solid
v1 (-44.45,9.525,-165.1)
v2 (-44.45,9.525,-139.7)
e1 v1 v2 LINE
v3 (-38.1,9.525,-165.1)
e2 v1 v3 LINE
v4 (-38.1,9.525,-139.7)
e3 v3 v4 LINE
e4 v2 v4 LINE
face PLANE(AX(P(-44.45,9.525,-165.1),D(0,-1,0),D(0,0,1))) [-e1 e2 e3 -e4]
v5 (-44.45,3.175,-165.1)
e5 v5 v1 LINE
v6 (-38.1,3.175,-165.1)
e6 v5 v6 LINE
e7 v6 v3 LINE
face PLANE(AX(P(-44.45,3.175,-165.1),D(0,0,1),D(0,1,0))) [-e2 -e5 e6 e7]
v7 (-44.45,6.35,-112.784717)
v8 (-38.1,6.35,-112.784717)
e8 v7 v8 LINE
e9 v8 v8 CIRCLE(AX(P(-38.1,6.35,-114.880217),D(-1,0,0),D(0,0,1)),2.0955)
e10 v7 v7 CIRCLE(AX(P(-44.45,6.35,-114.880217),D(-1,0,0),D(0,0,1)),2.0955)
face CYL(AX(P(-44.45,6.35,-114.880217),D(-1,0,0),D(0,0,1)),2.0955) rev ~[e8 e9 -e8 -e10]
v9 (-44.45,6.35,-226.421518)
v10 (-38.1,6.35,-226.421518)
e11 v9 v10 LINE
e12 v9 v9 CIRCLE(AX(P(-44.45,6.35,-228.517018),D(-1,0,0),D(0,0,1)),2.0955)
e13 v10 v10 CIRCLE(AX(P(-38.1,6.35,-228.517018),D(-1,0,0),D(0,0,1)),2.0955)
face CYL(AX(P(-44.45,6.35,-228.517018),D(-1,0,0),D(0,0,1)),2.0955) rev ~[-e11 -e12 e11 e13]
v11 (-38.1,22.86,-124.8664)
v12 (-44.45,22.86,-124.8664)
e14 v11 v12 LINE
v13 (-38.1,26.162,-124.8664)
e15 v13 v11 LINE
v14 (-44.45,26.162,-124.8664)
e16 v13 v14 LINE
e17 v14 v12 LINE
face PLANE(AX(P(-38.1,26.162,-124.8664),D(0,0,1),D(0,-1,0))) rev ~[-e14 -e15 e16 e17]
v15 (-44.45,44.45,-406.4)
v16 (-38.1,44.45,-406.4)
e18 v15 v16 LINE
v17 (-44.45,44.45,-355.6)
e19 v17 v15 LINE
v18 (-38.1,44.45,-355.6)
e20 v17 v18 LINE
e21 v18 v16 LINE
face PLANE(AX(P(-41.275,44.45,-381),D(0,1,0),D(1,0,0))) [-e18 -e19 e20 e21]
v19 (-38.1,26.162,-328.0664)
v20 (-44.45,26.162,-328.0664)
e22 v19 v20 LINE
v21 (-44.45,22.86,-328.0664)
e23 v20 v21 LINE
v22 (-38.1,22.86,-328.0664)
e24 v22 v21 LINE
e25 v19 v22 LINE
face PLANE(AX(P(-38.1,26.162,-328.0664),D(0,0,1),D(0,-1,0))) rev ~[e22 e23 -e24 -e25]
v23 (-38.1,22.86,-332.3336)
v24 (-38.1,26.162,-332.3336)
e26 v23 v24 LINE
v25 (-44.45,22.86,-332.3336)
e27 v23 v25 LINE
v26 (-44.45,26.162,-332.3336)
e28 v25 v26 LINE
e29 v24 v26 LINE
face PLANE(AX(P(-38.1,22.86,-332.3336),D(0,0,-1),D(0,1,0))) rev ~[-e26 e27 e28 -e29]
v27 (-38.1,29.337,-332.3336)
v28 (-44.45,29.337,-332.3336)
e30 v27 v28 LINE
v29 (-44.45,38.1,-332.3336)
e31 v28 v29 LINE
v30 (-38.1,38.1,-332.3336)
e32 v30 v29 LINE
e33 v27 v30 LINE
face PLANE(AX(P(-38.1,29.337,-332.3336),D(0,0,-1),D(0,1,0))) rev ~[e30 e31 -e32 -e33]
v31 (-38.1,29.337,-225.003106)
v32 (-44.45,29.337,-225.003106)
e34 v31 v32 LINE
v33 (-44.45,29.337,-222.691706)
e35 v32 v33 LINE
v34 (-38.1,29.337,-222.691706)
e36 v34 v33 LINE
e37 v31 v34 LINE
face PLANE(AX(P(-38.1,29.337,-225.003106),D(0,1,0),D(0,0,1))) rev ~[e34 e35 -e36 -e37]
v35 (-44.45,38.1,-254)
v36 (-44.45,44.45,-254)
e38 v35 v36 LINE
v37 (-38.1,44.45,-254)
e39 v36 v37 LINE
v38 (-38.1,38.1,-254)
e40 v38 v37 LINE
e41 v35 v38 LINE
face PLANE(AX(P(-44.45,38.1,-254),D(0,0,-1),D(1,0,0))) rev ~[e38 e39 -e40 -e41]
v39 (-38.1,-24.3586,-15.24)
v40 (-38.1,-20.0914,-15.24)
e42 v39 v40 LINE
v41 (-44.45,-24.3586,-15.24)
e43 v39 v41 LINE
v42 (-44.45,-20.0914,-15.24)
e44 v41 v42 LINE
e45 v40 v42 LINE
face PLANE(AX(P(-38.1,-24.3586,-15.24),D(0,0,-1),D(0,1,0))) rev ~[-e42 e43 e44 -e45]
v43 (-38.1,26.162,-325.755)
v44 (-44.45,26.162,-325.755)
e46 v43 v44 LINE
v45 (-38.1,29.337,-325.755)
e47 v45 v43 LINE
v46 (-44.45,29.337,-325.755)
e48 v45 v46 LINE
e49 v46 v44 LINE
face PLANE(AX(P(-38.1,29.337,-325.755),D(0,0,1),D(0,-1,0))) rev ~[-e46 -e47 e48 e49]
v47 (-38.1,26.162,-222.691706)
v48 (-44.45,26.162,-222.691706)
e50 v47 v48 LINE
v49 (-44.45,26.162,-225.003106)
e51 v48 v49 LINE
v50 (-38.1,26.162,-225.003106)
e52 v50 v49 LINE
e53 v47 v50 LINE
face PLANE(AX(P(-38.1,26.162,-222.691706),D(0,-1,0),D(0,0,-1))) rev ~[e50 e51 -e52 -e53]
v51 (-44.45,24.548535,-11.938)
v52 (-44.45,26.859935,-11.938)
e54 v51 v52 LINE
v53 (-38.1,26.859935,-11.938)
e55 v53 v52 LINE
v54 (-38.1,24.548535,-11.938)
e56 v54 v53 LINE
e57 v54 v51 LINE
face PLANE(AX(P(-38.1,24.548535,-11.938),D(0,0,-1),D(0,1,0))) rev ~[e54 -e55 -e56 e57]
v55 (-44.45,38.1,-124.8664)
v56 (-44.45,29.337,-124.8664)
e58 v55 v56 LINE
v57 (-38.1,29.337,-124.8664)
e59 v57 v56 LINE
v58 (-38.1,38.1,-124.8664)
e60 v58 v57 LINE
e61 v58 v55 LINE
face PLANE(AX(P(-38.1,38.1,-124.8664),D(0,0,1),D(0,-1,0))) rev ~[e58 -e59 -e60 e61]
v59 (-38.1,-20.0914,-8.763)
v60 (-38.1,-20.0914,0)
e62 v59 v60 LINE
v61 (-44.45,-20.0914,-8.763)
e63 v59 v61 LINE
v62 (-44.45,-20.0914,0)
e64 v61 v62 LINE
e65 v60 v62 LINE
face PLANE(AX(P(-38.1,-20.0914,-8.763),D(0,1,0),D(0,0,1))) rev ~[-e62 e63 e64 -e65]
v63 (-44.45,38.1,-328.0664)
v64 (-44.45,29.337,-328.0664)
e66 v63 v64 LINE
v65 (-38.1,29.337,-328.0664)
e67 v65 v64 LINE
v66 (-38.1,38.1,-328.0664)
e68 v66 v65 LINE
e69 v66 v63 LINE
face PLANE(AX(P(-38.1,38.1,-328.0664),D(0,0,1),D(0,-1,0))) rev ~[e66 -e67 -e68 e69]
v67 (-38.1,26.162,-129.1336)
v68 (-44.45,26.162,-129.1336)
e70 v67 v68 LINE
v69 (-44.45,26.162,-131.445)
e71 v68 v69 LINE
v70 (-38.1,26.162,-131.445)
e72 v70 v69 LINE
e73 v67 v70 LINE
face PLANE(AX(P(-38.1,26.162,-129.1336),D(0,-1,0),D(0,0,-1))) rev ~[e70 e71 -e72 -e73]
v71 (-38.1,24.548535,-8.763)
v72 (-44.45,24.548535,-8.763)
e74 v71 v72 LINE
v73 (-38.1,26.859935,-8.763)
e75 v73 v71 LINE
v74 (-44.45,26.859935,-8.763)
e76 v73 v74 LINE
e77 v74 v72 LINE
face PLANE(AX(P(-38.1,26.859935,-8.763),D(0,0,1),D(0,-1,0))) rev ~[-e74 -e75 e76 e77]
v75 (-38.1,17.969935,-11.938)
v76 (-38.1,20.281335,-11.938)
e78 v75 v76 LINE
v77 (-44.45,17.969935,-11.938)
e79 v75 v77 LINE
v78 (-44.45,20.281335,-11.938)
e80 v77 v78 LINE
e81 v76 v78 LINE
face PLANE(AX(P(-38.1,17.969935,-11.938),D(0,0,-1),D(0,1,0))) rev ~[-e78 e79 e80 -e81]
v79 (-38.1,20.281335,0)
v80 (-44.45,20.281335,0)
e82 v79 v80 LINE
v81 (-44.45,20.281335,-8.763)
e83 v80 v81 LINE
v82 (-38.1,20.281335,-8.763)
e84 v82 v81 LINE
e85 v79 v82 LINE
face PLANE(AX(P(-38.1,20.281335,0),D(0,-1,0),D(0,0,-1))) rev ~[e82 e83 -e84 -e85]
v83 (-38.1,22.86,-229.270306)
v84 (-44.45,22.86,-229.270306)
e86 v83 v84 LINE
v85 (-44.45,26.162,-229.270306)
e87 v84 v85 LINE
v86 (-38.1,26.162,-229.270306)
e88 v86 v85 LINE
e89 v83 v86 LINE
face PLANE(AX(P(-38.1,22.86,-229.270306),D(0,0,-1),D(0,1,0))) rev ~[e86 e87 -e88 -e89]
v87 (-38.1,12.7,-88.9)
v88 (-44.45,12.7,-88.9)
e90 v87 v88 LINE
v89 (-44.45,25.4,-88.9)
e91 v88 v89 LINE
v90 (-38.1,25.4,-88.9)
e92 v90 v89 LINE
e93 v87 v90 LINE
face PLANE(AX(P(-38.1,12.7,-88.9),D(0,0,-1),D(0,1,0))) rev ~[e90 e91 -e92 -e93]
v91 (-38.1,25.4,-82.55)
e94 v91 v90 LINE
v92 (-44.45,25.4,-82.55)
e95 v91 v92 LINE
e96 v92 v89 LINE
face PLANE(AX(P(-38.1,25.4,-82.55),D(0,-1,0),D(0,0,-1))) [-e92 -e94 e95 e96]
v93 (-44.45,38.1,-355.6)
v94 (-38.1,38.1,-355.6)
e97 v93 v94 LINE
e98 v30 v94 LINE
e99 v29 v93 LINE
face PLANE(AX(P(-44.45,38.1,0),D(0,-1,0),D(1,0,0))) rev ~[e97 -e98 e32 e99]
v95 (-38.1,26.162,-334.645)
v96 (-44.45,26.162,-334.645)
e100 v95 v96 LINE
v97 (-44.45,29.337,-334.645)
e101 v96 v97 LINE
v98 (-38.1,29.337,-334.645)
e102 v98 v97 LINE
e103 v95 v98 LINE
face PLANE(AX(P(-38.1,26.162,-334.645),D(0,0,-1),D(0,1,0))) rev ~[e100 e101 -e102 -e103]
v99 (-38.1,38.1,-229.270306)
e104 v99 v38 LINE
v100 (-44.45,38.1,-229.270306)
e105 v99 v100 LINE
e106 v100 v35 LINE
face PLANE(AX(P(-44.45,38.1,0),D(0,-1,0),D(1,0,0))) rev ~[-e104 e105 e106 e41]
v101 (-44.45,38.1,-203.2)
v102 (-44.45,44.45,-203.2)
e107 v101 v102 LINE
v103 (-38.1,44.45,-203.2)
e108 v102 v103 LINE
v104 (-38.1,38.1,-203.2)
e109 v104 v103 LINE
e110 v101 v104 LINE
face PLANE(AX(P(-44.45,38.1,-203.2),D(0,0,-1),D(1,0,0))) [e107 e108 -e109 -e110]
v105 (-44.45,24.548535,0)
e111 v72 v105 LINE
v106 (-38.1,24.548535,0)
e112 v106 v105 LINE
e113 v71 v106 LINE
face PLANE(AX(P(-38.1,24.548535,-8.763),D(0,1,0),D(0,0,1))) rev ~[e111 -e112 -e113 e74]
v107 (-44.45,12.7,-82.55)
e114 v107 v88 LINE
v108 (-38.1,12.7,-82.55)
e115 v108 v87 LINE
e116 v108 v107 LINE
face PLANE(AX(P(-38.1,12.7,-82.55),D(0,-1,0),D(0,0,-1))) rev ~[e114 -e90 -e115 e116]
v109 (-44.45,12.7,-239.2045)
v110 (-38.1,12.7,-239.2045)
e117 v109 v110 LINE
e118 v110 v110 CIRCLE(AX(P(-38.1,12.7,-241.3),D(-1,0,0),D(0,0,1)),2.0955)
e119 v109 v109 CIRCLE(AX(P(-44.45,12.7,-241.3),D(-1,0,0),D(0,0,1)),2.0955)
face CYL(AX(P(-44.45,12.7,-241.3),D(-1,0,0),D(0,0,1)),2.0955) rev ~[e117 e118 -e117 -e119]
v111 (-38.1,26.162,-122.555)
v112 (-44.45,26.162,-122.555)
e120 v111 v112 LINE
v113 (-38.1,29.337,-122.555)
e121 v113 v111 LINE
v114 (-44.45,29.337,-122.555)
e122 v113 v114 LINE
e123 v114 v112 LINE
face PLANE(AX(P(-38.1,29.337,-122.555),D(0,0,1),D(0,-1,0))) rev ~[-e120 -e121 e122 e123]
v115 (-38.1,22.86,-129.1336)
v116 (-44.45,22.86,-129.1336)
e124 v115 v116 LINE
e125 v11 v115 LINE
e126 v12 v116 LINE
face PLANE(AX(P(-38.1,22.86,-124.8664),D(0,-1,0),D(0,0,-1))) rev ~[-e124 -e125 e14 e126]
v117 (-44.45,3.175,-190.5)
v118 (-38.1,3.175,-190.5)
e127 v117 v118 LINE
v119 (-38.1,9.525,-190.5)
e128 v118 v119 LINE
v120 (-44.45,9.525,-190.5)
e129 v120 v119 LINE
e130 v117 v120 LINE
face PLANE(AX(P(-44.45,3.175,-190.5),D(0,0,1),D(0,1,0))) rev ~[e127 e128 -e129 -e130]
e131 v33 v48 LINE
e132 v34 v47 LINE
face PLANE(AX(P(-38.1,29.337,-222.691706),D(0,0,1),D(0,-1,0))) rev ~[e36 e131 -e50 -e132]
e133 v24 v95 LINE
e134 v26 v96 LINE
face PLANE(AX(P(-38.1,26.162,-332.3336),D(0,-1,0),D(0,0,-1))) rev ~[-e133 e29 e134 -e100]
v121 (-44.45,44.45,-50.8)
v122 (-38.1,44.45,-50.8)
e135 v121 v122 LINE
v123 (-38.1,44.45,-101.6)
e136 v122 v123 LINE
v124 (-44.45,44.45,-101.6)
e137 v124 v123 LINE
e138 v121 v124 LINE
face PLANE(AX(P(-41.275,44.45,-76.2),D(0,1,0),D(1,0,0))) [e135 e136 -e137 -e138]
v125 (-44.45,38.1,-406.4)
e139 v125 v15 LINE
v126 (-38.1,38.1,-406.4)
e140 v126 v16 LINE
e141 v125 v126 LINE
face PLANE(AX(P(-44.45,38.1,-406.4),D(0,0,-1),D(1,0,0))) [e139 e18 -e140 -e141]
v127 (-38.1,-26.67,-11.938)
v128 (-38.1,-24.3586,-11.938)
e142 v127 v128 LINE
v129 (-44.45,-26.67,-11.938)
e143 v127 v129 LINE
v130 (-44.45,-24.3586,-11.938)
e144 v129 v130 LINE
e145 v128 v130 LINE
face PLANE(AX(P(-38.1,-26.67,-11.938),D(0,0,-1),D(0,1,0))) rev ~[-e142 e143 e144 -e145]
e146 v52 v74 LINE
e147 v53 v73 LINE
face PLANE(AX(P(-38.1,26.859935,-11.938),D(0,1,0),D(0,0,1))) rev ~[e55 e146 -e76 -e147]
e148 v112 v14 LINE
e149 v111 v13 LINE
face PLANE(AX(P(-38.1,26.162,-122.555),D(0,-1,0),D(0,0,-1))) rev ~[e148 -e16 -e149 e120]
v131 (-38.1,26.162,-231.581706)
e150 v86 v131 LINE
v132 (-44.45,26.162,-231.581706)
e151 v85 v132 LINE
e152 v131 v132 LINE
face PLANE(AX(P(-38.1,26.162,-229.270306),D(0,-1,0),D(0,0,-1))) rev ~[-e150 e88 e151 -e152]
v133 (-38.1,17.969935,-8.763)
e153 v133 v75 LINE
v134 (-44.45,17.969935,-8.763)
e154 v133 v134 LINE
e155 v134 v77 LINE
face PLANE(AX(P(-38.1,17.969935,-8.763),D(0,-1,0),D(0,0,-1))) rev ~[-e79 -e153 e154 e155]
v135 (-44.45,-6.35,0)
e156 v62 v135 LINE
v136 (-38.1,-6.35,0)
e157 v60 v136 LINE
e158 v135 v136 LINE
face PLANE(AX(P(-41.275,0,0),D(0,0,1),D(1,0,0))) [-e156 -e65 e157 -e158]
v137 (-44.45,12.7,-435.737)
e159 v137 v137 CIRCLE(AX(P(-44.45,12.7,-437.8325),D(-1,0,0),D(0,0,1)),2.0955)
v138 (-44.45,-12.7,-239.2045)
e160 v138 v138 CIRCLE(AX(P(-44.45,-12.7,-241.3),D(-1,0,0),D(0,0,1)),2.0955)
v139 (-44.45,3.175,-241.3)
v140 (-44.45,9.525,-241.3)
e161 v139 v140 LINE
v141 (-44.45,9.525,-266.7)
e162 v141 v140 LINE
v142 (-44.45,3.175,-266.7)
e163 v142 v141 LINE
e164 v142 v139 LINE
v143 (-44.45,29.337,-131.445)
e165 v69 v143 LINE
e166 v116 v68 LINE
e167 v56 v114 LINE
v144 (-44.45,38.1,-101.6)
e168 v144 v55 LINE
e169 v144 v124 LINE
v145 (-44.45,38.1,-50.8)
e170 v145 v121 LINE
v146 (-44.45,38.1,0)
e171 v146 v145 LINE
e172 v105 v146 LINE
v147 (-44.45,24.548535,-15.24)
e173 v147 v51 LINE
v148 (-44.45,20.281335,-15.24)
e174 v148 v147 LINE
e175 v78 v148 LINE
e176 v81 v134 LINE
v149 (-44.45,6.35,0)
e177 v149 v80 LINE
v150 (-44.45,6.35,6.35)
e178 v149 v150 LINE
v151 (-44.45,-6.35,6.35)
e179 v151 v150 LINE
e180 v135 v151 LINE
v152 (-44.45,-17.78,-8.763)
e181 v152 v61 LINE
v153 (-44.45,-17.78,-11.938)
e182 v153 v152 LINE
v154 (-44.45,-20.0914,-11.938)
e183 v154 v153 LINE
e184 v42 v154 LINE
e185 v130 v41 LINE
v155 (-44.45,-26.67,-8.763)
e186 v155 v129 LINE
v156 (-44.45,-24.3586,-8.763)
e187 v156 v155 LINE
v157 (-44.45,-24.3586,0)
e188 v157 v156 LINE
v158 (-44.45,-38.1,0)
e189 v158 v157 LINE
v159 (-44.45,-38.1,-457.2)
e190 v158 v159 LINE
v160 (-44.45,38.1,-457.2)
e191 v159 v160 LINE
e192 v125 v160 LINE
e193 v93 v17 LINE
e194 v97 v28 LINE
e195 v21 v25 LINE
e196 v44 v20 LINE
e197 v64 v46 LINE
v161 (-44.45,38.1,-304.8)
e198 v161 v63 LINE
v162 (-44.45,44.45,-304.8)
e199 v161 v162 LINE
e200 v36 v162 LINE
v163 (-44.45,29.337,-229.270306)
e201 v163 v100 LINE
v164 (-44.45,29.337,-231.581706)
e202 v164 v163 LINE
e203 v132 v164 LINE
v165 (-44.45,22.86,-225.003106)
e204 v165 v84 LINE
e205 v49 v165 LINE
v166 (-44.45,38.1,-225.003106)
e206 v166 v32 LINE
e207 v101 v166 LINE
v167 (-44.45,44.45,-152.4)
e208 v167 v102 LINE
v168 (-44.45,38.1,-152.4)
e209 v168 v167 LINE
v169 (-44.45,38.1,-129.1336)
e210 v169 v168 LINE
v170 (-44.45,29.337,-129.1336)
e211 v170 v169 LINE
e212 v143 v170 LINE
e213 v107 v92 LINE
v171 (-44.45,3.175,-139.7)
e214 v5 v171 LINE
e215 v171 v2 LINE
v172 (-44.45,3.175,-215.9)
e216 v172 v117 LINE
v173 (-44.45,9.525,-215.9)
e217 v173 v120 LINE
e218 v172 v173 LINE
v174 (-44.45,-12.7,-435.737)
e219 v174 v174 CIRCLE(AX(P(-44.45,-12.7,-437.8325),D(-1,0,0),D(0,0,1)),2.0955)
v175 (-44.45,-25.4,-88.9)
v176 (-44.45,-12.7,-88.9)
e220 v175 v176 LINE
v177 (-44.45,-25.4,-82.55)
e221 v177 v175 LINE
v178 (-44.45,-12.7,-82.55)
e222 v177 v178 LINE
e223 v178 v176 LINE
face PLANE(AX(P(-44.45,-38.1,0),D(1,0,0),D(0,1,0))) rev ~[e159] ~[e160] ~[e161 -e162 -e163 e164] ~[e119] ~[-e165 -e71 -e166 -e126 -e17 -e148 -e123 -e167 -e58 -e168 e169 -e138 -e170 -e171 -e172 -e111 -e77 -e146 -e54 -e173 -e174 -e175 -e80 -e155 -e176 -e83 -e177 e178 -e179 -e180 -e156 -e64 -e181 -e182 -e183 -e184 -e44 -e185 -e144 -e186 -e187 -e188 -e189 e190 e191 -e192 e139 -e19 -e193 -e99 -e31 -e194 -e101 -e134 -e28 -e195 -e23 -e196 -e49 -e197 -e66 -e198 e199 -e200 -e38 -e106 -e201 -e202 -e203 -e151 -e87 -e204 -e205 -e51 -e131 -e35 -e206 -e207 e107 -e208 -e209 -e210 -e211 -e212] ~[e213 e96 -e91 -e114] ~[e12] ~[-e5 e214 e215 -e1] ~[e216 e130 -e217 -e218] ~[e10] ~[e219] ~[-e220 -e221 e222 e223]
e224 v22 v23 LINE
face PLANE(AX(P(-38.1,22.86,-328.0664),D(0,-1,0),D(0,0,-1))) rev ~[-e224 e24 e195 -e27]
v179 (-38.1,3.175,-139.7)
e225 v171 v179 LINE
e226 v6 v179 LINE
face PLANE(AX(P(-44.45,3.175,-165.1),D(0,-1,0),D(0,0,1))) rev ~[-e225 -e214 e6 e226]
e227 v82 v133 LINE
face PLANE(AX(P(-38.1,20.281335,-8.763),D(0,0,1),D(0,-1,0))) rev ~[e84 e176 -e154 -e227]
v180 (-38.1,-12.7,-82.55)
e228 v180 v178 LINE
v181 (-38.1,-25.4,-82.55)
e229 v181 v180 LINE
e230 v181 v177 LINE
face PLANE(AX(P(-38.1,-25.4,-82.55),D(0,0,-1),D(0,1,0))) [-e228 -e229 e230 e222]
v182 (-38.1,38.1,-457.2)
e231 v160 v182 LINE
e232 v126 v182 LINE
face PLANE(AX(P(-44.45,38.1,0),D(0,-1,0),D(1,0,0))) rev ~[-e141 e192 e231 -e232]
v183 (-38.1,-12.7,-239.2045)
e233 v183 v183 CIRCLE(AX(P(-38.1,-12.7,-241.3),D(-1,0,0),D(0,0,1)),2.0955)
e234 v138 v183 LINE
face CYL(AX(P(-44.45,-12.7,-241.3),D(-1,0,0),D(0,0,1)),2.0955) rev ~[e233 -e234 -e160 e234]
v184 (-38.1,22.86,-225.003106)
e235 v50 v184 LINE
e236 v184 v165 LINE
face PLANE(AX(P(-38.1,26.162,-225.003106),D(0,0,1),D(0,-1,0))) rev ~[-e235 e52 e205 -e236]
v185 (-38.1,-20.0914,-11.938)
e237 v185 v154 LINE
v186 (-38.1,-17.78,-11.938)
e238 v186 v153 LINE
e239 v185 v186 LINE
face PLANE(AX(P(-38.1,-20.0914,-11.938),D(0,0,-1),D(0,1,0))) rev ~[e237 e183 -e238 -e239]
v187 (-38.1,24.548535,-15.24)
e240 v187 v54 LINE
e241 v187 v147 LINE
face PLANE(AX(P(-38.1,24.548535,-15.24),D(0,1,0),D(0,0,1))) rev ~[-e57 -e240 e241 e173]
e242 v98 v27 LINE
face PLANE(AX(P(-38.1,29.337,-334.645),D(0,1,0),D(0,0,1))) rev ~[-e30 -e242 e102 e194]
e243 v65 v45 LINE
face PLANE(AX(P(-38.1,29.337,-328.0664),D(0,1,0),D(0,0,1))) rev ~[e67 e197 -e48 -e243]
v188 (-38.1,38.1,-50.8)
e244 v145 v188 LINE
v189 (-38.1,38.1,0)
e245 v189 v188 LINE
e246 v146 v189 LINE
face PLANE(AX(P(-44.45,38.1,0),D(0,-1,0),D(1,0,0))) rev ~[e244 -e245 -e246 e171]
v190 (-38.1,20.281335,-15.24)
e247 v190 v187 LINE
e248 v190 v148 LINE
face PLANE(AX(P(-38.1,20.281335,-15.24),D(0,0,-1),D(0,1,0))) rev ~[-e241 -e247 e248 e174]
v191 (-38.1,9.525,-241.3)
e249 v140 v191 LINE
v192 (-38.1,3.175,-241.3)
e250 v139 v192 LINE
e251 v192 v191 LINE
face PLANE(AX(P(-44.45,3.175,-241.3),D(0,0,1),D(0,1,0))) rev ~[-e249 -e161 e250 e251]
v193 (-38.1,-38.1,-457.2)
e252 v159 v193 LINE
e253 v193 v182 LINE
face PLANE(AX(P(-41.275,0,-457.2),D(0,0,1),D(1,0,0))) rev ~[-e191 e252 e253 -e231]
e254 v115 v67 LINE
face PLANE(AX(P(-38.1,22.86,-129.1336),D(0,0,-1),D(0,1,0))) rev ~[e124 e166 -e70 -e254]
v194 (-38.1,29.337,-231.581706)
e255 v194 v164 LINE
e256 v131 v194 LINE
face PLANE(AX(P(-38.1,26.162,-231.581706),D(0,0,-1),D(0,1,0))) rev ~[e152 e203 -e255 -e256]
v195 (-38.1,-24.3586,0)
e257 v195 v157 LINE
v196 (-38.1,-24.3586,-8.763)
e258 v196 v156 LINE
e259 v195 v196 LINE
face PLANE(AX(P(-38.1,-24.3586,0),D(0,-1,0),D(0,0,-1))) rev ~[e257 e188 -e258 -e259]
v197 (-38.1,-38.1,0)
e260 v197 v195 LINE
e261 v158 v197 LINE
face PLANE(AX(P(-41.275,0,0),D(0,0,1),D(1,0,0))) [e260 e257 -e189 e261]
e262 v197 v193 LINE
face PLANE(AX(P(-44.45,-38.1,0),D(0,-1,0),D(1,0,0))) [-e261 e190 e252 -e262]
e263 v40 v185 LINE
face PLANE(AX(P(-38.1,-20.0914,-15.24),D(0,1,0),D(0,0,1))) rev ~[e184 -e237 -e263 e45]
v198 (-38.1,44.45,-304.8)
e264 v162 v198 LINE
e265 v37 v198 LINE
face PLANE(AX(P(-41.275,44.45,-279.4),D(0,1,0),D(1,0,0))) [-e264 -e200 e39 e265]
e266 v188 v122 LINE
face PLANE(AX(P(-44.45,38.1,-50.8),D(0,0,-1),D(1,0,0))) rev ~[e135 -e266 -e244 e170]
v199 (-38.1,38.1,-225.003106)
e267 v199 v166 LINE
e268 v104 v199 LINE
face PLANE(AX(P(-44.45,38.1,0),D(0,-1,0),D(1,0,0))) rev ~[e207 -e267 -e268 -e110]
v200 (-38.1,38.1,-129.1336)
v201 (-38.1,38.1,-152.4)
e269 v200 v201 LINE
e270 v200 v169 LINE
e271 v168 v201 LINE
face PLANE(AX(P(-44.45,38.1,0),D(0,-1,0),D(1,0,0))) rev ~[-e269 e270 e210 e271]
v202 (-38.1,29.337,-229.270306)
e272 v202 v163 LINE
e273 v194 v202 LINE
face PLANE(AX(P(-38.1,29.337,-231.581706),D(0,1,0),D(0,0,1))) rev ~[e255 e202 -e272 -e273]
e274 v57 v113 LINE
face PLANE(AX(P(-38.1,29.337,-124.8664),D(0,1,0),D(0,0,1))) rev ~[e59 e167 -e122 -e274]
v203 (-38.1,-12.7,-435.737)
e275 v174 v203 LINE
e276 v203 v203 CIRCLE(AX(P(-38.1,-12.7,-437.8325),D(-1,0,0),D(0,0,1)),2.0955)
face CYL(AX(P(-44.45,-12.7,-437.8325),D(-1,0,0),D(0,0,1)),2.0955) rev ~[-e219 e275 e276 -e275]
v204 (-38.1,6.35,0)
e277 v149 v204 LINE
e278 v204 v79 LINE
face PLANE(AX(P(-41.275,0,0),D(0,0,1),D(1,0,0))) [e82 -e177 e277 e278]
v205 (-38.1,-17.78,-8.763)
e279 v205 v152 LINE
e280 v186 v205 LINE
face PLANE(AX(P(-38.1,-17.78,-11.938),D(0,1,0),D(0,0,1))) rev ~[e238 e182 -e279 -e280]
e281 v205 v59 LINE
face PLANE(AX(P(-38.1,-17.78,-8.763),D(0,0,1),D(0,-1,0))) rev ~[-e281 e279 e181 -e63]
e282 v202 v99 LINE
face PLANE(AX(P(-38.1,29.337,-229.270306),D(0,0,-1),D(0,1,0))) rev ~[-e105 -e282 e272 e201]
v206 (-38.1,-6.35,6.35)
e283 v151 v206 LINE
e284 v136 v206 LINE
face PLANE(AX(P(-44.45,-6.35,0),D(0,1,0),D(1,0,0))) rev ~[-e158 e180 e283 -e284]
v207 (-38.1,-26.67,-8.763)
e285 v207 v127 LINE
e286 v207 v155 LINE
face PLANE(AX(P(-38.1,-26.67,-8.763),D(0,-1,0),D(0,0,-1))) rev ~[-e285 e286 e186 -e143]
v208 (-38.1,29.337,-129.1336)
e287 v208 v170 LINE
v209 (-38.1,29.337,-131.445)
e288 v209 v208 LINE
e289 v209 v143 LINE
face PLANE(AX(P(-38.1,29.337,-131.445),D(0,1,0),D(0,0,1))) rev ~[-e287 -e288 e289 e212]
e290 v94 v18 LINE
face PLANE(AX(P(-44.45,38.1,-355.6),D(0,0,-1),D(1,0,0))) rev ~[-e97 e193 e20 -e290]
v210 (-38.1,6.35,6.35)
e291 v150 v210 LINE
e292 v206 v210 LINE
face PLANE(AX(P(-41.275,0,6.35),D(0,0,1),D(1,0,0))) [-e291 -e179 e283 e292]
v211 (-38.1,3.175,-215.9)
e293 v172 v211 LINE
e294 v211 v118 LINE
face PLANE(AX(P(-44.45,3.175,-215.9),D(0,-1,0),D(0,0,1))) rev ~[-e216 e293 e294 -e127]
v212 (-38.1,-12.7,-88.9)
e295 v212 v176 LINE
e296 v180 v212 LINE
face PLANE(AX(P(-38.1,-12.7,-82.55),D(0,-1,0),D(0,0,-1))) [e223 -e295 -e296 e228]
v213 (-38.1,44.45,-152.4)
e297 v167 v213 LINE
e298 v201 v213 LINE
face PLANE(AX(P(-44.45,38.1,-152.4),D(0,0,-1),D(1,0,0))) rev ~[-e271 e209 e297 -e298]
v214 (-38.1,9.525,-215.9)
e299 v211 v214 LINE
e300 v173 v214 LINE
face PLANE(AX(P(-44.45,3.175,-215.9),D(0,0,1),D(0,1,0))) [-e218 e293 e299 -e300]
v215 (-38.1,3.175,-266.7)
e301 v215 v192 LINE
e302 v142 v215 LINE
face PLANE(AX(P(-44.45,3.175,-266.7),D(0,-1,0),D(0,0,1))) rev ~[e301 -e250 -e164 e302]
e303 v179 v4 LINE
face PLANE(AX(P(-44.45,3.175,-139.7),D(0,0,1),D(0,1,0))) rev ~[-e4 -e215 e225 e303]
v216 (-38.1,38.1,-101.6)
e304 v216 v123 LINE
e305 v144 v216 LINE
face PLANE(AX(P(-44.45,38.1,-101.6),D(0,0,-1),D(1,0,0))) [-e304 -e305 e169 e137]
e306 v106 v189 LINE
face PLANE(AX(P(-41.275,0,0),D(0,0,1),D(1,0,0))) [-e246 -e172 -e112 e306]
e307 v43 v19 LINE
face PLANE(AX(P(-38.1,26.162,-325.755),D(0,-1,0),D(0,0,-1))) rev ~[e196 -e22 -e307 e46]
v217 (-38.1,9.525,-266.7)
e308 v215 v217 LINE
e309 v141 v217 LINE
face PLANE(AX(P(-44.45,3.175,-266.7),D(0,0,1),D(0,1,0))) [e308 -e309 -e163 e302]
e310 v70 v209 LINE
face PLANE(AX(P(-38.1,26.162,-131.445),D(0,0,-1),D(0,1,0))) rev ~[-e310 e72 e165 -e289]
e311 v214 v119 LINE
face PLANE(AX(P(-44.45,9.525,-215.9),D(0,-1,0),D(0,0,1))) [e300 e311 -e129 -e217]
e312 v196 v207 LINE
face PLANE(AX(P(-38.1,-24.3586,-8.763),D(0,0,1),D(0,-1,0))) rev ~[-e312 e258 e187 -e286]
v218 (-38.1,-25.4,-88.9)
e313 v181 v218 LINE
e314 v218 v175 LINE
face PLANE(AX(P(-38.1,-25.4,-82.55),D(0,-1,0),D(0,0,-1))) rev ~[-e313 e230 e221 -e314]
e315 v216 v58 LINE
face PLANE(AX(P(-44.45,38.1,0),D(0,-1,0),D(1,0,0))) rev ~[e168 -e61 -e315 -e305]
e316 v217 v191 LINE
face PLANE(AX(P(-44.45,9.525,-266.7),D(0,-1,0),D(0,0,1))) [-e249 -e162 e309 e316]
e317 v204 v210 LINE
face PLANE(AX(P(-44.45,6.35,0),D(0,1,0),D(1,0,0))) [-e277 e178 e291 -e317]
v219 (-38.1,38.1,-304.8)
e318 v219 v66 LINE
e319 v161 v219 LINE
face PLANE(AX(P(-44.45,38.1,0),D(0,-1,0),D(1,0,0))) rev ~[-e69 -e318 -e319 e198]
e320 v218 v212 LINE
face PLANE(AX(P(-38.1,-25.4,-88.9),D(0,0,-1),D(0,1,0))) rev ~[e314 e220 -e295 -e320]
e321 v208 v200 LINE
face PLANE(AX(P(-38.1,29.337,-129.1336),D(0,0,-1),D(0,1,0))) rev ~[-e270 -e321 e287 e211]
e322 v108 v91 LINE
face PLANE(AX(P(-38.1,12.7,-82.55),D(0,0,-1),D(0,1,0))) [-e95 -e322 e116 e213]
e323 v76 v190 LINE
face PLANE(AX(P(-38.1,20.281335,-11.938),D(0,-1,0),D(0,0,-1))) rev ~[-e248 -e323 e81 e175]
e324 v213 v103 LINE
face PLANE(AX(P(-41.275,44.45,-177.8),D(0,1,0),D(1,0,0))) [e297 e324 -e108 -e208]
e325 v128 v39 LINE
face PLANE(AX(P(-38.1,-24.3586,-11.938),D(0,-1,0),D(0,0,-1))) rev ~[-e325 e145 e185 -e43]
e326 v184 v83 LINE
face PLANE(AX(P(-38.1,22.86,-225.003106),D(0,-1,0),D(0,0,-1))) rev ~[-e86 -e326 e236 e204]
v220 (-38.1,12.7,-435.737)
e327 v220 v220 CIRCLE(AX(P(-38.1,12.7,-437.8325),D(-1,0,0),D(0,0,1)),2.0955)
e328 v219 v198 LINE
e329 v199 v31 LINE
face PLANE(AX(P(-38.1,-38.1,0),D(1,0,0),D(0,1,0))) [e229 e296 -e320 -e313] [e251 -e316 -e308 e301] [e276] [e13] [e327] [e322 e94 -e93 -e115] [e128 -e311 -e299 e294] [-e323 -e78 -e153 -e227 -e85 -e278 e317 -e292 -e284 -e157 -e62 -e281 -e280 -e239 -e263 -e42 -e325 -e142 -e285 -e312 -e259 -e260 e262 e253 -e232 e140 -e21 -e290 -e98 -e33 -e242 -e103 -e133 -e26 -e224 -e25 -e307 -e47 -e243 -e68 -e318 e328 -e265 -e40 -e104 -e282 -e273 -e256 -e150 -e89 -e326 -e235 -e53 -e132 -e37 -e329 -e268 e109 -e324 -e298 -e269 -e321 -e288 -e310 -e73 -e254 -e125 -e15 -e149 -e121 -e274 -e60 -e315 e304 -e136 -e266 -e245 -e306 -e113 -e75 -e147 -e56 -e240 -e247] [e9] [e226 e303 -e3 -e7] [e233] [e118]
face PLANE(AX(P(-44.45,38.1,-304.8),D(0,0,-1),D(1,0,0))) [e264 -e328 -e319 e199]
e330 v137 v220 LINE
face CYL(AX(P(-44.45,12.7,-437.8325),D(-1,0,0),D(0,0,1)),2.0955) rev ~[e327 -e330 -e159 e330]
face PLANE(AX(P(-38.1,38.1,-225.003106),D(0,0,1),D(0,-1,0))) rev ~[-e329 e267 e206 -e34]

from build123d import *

# Parameters (mm, degrees)
SKETCH1_W           = 6.35
SKETCH1_H           = 76.2
BOSS_EXTRUDE1_DEPTH = 457.2
SKETCH2_W           = 6.35
SKETCH2_H           = 50.8
BOSS_EXTRUDE2_DEPTH = 6.35
SKETCH3_W           = 6.35
SKETCH3_H           = 12.7
CUT_EXTRUDE1_DEPTH  = 460.399570091
SKETCH4_W           = 6.35
SKETCH4_H           = 12.7
BOSS_EXTRUDE4_DEPTH = 6.35
SKETCH7_R           = 2.0955
CUT_EXTRUDE2_DEPTH  = 460.399570091
SKETCH9_R           = 2.0955
SKETCH9_W           = 25.4
SKETCH9_H           = 6.35
CUT_EXTRUDE3_DEPTH  = 6.35
CUT_EXTRUDE4_DEPTH  = 6.35


with BuildPart() as part:
    # Sketch1 → Boss-Extrude1 (new body)
    with BuildSketch(Plane.XY):
        with Locations((-41.275, 0)):
            Rectangle(SKETCH1_W, SKETCH1_H)
    extrude(amount=-BOSS_EXTRUDE1_DEPTH)

    # Sketch2 → Boss-Extrude2 (add)
    with BuildSketch(Plane(origin=(0, 38.1, 0), x_dir=(1, 0, 0), z_dir=(0, 1, 0))):
        with Locations((-41.275, 381)):
            Rectangle(SKETCH2_W, SKETCH2_H)
        with Locations((-41.275, 279.4)):
            Rectangle(SKETCH2_W, SKETCH2_H)
        with Locations((-41.275, 177.8)):
            Rectangle(SKETCH2_W, SKETCH2_H)
        with Locations((-41.275, 76.2)):
            Rectangle(SKETCH2_W, SKETCH2_H)
    extrude(amount=BOSS_EXTRUDE2_DEPTH)

    # Sketch3 → Cut-Extrude1 (cut, through all)
    with BuildSketch(Plane(origin=(-38.1, 0, 0), x_dir=(0, 0, -1), z_dir=(1, 0, 0))):
        with Locations((85.725, 19.05)):
            Rectangle(SKETCH3_W, SKETCH3_H)
        with Locations((85.725, -19.05)):
            Rectangle(SKETCH3_W, SKETCH3_H)
    extrude(amount=-CUT_EXTRUDE1_DEPTH, mode=Mode.SUBTRACT)

    # Sketch4 → Boss-Extrude4 (add)
    with BuildSketch(Plane.XY):
        with Locations((-41.275, 0)):
            Rectangle(SKETCH4_W, SKETCH4_H)
    extrude(amount=BOSS_EXTRUDE4_DEPTH)

    # Sketch7 → Cut-Extrude2 (cut, through all)
    with BuildSketch(Plane.ZY.offset(44.45)):
        with Locations((-241.3, -12.7)):
            Circle(SKETCH7_R)
        with Locations((-241.3, 12.7)):
            Circle(SKETCH7_R)
        with Locations((-437.8325, -12.7)):
            Circle(SKETCH7_R)
        with Locations((-437.8325, 12.7)):
            Circle(SKETCH7_R)
    extrude(amount=-CUT_EXTRUDE2_DEPTH, mode=Mode.SUBTRACT)

    # Sketch9 → Cut-Extrude3 (cut)
    with BuildSketch(Plane.ZY.offset(44.45)):
        with Locations((-114.880216651, 6.35)):
            Circle(SKETCH9_R)
        with Locations((-228.517018256, 6.35)):
            Circle(SKETCH9_R)
        with Locations((-254, 6.35)):
            Rectangle(SKETCH9_W, SKETCH9_H)
        with Locations((-203.2, 6.35)):
            Rectangle(SKETCH9_W, SKETCH9_H)
        with Locations((-152.4, 6.35)):
            Rectangle(SKETCH9_W, SKETCH9_H)
    extrude(amount=-CUT_EXTRUDE3_DEPTH, mode=Mode.SUBTRACT)

    # Sketch10 → Cut-Extrude4 (cut)
    with BuildSketch(Plane(origin=(-38.1, 0, 0), x_dir=(0, 0, -1), z_dir=(1, 0, 0))):
        Polygon((0, 24.548534751), (0, 20.281334751), (8.763, 20.281334751), (8.763, 17.969934751), (11.938, 17.969934751), (11.938, 20.281334751), (15.24, 20.281334751), (15.24, 24.548534751), (11.938, 24.548534751), (11.938, 26.859934751), (8.763, 26.859934751), (8.763, 24.548534751), align=None)
        Polygon((0, -20.0914), (0, -24.3586), (8.763, -24.3586), (8.763, -26.67), (11.938, -26.67), (11.938, -24.3586), (15.24, -24.3586), (15.24, -20.0914), (11.938, -20.0914), (11.938, -17.78), (8.763, -17.78), (8.763, -20.0914), align=None)
        Polygon((332.3336, 38.1), (328.0664, 38.1), (328.0664, 29.337), (325.755, 29.337), (325.755, 26.162), (328.0664, 26.162), (328.0664, 22.86), (332.3336, 22.86), (332.3336, 26.162), (334.645, 26.162), (334.645, 29.337), (332.3336, 29.337), align=None)
        Polygon((229.270305867, 38.1), (225.003105867, 38.1), (225.003105867, 29.337), (222.691705867, 29.337), (222.691705867, 26.162), (225.003105867, 26.162), (225.003105867, 22.86), (229.270305867, 22.86), (229.270305867, 26.162), (231.581705867, 26.162), (231.581705867, 29.337), (229.270305867, 29.337), align=None)
        Polygon((129.1336, 38.1), (124.8664, 38.1), (124.8664, 29.337), (122.555, 29.337), (122.555, 26.162), (124.8664, 26.162), (124.8664, 22.86), (129.1336, 22.86), (129.1336, 26.162), (131.445, 26.162), (131.445, 29.337), (129.1336, 29.337), align=None)
    extrude(amount=-CUT_EXTRUDE4_DEPTH, mode=Mode.SUBTRACT)


solid = part.part
